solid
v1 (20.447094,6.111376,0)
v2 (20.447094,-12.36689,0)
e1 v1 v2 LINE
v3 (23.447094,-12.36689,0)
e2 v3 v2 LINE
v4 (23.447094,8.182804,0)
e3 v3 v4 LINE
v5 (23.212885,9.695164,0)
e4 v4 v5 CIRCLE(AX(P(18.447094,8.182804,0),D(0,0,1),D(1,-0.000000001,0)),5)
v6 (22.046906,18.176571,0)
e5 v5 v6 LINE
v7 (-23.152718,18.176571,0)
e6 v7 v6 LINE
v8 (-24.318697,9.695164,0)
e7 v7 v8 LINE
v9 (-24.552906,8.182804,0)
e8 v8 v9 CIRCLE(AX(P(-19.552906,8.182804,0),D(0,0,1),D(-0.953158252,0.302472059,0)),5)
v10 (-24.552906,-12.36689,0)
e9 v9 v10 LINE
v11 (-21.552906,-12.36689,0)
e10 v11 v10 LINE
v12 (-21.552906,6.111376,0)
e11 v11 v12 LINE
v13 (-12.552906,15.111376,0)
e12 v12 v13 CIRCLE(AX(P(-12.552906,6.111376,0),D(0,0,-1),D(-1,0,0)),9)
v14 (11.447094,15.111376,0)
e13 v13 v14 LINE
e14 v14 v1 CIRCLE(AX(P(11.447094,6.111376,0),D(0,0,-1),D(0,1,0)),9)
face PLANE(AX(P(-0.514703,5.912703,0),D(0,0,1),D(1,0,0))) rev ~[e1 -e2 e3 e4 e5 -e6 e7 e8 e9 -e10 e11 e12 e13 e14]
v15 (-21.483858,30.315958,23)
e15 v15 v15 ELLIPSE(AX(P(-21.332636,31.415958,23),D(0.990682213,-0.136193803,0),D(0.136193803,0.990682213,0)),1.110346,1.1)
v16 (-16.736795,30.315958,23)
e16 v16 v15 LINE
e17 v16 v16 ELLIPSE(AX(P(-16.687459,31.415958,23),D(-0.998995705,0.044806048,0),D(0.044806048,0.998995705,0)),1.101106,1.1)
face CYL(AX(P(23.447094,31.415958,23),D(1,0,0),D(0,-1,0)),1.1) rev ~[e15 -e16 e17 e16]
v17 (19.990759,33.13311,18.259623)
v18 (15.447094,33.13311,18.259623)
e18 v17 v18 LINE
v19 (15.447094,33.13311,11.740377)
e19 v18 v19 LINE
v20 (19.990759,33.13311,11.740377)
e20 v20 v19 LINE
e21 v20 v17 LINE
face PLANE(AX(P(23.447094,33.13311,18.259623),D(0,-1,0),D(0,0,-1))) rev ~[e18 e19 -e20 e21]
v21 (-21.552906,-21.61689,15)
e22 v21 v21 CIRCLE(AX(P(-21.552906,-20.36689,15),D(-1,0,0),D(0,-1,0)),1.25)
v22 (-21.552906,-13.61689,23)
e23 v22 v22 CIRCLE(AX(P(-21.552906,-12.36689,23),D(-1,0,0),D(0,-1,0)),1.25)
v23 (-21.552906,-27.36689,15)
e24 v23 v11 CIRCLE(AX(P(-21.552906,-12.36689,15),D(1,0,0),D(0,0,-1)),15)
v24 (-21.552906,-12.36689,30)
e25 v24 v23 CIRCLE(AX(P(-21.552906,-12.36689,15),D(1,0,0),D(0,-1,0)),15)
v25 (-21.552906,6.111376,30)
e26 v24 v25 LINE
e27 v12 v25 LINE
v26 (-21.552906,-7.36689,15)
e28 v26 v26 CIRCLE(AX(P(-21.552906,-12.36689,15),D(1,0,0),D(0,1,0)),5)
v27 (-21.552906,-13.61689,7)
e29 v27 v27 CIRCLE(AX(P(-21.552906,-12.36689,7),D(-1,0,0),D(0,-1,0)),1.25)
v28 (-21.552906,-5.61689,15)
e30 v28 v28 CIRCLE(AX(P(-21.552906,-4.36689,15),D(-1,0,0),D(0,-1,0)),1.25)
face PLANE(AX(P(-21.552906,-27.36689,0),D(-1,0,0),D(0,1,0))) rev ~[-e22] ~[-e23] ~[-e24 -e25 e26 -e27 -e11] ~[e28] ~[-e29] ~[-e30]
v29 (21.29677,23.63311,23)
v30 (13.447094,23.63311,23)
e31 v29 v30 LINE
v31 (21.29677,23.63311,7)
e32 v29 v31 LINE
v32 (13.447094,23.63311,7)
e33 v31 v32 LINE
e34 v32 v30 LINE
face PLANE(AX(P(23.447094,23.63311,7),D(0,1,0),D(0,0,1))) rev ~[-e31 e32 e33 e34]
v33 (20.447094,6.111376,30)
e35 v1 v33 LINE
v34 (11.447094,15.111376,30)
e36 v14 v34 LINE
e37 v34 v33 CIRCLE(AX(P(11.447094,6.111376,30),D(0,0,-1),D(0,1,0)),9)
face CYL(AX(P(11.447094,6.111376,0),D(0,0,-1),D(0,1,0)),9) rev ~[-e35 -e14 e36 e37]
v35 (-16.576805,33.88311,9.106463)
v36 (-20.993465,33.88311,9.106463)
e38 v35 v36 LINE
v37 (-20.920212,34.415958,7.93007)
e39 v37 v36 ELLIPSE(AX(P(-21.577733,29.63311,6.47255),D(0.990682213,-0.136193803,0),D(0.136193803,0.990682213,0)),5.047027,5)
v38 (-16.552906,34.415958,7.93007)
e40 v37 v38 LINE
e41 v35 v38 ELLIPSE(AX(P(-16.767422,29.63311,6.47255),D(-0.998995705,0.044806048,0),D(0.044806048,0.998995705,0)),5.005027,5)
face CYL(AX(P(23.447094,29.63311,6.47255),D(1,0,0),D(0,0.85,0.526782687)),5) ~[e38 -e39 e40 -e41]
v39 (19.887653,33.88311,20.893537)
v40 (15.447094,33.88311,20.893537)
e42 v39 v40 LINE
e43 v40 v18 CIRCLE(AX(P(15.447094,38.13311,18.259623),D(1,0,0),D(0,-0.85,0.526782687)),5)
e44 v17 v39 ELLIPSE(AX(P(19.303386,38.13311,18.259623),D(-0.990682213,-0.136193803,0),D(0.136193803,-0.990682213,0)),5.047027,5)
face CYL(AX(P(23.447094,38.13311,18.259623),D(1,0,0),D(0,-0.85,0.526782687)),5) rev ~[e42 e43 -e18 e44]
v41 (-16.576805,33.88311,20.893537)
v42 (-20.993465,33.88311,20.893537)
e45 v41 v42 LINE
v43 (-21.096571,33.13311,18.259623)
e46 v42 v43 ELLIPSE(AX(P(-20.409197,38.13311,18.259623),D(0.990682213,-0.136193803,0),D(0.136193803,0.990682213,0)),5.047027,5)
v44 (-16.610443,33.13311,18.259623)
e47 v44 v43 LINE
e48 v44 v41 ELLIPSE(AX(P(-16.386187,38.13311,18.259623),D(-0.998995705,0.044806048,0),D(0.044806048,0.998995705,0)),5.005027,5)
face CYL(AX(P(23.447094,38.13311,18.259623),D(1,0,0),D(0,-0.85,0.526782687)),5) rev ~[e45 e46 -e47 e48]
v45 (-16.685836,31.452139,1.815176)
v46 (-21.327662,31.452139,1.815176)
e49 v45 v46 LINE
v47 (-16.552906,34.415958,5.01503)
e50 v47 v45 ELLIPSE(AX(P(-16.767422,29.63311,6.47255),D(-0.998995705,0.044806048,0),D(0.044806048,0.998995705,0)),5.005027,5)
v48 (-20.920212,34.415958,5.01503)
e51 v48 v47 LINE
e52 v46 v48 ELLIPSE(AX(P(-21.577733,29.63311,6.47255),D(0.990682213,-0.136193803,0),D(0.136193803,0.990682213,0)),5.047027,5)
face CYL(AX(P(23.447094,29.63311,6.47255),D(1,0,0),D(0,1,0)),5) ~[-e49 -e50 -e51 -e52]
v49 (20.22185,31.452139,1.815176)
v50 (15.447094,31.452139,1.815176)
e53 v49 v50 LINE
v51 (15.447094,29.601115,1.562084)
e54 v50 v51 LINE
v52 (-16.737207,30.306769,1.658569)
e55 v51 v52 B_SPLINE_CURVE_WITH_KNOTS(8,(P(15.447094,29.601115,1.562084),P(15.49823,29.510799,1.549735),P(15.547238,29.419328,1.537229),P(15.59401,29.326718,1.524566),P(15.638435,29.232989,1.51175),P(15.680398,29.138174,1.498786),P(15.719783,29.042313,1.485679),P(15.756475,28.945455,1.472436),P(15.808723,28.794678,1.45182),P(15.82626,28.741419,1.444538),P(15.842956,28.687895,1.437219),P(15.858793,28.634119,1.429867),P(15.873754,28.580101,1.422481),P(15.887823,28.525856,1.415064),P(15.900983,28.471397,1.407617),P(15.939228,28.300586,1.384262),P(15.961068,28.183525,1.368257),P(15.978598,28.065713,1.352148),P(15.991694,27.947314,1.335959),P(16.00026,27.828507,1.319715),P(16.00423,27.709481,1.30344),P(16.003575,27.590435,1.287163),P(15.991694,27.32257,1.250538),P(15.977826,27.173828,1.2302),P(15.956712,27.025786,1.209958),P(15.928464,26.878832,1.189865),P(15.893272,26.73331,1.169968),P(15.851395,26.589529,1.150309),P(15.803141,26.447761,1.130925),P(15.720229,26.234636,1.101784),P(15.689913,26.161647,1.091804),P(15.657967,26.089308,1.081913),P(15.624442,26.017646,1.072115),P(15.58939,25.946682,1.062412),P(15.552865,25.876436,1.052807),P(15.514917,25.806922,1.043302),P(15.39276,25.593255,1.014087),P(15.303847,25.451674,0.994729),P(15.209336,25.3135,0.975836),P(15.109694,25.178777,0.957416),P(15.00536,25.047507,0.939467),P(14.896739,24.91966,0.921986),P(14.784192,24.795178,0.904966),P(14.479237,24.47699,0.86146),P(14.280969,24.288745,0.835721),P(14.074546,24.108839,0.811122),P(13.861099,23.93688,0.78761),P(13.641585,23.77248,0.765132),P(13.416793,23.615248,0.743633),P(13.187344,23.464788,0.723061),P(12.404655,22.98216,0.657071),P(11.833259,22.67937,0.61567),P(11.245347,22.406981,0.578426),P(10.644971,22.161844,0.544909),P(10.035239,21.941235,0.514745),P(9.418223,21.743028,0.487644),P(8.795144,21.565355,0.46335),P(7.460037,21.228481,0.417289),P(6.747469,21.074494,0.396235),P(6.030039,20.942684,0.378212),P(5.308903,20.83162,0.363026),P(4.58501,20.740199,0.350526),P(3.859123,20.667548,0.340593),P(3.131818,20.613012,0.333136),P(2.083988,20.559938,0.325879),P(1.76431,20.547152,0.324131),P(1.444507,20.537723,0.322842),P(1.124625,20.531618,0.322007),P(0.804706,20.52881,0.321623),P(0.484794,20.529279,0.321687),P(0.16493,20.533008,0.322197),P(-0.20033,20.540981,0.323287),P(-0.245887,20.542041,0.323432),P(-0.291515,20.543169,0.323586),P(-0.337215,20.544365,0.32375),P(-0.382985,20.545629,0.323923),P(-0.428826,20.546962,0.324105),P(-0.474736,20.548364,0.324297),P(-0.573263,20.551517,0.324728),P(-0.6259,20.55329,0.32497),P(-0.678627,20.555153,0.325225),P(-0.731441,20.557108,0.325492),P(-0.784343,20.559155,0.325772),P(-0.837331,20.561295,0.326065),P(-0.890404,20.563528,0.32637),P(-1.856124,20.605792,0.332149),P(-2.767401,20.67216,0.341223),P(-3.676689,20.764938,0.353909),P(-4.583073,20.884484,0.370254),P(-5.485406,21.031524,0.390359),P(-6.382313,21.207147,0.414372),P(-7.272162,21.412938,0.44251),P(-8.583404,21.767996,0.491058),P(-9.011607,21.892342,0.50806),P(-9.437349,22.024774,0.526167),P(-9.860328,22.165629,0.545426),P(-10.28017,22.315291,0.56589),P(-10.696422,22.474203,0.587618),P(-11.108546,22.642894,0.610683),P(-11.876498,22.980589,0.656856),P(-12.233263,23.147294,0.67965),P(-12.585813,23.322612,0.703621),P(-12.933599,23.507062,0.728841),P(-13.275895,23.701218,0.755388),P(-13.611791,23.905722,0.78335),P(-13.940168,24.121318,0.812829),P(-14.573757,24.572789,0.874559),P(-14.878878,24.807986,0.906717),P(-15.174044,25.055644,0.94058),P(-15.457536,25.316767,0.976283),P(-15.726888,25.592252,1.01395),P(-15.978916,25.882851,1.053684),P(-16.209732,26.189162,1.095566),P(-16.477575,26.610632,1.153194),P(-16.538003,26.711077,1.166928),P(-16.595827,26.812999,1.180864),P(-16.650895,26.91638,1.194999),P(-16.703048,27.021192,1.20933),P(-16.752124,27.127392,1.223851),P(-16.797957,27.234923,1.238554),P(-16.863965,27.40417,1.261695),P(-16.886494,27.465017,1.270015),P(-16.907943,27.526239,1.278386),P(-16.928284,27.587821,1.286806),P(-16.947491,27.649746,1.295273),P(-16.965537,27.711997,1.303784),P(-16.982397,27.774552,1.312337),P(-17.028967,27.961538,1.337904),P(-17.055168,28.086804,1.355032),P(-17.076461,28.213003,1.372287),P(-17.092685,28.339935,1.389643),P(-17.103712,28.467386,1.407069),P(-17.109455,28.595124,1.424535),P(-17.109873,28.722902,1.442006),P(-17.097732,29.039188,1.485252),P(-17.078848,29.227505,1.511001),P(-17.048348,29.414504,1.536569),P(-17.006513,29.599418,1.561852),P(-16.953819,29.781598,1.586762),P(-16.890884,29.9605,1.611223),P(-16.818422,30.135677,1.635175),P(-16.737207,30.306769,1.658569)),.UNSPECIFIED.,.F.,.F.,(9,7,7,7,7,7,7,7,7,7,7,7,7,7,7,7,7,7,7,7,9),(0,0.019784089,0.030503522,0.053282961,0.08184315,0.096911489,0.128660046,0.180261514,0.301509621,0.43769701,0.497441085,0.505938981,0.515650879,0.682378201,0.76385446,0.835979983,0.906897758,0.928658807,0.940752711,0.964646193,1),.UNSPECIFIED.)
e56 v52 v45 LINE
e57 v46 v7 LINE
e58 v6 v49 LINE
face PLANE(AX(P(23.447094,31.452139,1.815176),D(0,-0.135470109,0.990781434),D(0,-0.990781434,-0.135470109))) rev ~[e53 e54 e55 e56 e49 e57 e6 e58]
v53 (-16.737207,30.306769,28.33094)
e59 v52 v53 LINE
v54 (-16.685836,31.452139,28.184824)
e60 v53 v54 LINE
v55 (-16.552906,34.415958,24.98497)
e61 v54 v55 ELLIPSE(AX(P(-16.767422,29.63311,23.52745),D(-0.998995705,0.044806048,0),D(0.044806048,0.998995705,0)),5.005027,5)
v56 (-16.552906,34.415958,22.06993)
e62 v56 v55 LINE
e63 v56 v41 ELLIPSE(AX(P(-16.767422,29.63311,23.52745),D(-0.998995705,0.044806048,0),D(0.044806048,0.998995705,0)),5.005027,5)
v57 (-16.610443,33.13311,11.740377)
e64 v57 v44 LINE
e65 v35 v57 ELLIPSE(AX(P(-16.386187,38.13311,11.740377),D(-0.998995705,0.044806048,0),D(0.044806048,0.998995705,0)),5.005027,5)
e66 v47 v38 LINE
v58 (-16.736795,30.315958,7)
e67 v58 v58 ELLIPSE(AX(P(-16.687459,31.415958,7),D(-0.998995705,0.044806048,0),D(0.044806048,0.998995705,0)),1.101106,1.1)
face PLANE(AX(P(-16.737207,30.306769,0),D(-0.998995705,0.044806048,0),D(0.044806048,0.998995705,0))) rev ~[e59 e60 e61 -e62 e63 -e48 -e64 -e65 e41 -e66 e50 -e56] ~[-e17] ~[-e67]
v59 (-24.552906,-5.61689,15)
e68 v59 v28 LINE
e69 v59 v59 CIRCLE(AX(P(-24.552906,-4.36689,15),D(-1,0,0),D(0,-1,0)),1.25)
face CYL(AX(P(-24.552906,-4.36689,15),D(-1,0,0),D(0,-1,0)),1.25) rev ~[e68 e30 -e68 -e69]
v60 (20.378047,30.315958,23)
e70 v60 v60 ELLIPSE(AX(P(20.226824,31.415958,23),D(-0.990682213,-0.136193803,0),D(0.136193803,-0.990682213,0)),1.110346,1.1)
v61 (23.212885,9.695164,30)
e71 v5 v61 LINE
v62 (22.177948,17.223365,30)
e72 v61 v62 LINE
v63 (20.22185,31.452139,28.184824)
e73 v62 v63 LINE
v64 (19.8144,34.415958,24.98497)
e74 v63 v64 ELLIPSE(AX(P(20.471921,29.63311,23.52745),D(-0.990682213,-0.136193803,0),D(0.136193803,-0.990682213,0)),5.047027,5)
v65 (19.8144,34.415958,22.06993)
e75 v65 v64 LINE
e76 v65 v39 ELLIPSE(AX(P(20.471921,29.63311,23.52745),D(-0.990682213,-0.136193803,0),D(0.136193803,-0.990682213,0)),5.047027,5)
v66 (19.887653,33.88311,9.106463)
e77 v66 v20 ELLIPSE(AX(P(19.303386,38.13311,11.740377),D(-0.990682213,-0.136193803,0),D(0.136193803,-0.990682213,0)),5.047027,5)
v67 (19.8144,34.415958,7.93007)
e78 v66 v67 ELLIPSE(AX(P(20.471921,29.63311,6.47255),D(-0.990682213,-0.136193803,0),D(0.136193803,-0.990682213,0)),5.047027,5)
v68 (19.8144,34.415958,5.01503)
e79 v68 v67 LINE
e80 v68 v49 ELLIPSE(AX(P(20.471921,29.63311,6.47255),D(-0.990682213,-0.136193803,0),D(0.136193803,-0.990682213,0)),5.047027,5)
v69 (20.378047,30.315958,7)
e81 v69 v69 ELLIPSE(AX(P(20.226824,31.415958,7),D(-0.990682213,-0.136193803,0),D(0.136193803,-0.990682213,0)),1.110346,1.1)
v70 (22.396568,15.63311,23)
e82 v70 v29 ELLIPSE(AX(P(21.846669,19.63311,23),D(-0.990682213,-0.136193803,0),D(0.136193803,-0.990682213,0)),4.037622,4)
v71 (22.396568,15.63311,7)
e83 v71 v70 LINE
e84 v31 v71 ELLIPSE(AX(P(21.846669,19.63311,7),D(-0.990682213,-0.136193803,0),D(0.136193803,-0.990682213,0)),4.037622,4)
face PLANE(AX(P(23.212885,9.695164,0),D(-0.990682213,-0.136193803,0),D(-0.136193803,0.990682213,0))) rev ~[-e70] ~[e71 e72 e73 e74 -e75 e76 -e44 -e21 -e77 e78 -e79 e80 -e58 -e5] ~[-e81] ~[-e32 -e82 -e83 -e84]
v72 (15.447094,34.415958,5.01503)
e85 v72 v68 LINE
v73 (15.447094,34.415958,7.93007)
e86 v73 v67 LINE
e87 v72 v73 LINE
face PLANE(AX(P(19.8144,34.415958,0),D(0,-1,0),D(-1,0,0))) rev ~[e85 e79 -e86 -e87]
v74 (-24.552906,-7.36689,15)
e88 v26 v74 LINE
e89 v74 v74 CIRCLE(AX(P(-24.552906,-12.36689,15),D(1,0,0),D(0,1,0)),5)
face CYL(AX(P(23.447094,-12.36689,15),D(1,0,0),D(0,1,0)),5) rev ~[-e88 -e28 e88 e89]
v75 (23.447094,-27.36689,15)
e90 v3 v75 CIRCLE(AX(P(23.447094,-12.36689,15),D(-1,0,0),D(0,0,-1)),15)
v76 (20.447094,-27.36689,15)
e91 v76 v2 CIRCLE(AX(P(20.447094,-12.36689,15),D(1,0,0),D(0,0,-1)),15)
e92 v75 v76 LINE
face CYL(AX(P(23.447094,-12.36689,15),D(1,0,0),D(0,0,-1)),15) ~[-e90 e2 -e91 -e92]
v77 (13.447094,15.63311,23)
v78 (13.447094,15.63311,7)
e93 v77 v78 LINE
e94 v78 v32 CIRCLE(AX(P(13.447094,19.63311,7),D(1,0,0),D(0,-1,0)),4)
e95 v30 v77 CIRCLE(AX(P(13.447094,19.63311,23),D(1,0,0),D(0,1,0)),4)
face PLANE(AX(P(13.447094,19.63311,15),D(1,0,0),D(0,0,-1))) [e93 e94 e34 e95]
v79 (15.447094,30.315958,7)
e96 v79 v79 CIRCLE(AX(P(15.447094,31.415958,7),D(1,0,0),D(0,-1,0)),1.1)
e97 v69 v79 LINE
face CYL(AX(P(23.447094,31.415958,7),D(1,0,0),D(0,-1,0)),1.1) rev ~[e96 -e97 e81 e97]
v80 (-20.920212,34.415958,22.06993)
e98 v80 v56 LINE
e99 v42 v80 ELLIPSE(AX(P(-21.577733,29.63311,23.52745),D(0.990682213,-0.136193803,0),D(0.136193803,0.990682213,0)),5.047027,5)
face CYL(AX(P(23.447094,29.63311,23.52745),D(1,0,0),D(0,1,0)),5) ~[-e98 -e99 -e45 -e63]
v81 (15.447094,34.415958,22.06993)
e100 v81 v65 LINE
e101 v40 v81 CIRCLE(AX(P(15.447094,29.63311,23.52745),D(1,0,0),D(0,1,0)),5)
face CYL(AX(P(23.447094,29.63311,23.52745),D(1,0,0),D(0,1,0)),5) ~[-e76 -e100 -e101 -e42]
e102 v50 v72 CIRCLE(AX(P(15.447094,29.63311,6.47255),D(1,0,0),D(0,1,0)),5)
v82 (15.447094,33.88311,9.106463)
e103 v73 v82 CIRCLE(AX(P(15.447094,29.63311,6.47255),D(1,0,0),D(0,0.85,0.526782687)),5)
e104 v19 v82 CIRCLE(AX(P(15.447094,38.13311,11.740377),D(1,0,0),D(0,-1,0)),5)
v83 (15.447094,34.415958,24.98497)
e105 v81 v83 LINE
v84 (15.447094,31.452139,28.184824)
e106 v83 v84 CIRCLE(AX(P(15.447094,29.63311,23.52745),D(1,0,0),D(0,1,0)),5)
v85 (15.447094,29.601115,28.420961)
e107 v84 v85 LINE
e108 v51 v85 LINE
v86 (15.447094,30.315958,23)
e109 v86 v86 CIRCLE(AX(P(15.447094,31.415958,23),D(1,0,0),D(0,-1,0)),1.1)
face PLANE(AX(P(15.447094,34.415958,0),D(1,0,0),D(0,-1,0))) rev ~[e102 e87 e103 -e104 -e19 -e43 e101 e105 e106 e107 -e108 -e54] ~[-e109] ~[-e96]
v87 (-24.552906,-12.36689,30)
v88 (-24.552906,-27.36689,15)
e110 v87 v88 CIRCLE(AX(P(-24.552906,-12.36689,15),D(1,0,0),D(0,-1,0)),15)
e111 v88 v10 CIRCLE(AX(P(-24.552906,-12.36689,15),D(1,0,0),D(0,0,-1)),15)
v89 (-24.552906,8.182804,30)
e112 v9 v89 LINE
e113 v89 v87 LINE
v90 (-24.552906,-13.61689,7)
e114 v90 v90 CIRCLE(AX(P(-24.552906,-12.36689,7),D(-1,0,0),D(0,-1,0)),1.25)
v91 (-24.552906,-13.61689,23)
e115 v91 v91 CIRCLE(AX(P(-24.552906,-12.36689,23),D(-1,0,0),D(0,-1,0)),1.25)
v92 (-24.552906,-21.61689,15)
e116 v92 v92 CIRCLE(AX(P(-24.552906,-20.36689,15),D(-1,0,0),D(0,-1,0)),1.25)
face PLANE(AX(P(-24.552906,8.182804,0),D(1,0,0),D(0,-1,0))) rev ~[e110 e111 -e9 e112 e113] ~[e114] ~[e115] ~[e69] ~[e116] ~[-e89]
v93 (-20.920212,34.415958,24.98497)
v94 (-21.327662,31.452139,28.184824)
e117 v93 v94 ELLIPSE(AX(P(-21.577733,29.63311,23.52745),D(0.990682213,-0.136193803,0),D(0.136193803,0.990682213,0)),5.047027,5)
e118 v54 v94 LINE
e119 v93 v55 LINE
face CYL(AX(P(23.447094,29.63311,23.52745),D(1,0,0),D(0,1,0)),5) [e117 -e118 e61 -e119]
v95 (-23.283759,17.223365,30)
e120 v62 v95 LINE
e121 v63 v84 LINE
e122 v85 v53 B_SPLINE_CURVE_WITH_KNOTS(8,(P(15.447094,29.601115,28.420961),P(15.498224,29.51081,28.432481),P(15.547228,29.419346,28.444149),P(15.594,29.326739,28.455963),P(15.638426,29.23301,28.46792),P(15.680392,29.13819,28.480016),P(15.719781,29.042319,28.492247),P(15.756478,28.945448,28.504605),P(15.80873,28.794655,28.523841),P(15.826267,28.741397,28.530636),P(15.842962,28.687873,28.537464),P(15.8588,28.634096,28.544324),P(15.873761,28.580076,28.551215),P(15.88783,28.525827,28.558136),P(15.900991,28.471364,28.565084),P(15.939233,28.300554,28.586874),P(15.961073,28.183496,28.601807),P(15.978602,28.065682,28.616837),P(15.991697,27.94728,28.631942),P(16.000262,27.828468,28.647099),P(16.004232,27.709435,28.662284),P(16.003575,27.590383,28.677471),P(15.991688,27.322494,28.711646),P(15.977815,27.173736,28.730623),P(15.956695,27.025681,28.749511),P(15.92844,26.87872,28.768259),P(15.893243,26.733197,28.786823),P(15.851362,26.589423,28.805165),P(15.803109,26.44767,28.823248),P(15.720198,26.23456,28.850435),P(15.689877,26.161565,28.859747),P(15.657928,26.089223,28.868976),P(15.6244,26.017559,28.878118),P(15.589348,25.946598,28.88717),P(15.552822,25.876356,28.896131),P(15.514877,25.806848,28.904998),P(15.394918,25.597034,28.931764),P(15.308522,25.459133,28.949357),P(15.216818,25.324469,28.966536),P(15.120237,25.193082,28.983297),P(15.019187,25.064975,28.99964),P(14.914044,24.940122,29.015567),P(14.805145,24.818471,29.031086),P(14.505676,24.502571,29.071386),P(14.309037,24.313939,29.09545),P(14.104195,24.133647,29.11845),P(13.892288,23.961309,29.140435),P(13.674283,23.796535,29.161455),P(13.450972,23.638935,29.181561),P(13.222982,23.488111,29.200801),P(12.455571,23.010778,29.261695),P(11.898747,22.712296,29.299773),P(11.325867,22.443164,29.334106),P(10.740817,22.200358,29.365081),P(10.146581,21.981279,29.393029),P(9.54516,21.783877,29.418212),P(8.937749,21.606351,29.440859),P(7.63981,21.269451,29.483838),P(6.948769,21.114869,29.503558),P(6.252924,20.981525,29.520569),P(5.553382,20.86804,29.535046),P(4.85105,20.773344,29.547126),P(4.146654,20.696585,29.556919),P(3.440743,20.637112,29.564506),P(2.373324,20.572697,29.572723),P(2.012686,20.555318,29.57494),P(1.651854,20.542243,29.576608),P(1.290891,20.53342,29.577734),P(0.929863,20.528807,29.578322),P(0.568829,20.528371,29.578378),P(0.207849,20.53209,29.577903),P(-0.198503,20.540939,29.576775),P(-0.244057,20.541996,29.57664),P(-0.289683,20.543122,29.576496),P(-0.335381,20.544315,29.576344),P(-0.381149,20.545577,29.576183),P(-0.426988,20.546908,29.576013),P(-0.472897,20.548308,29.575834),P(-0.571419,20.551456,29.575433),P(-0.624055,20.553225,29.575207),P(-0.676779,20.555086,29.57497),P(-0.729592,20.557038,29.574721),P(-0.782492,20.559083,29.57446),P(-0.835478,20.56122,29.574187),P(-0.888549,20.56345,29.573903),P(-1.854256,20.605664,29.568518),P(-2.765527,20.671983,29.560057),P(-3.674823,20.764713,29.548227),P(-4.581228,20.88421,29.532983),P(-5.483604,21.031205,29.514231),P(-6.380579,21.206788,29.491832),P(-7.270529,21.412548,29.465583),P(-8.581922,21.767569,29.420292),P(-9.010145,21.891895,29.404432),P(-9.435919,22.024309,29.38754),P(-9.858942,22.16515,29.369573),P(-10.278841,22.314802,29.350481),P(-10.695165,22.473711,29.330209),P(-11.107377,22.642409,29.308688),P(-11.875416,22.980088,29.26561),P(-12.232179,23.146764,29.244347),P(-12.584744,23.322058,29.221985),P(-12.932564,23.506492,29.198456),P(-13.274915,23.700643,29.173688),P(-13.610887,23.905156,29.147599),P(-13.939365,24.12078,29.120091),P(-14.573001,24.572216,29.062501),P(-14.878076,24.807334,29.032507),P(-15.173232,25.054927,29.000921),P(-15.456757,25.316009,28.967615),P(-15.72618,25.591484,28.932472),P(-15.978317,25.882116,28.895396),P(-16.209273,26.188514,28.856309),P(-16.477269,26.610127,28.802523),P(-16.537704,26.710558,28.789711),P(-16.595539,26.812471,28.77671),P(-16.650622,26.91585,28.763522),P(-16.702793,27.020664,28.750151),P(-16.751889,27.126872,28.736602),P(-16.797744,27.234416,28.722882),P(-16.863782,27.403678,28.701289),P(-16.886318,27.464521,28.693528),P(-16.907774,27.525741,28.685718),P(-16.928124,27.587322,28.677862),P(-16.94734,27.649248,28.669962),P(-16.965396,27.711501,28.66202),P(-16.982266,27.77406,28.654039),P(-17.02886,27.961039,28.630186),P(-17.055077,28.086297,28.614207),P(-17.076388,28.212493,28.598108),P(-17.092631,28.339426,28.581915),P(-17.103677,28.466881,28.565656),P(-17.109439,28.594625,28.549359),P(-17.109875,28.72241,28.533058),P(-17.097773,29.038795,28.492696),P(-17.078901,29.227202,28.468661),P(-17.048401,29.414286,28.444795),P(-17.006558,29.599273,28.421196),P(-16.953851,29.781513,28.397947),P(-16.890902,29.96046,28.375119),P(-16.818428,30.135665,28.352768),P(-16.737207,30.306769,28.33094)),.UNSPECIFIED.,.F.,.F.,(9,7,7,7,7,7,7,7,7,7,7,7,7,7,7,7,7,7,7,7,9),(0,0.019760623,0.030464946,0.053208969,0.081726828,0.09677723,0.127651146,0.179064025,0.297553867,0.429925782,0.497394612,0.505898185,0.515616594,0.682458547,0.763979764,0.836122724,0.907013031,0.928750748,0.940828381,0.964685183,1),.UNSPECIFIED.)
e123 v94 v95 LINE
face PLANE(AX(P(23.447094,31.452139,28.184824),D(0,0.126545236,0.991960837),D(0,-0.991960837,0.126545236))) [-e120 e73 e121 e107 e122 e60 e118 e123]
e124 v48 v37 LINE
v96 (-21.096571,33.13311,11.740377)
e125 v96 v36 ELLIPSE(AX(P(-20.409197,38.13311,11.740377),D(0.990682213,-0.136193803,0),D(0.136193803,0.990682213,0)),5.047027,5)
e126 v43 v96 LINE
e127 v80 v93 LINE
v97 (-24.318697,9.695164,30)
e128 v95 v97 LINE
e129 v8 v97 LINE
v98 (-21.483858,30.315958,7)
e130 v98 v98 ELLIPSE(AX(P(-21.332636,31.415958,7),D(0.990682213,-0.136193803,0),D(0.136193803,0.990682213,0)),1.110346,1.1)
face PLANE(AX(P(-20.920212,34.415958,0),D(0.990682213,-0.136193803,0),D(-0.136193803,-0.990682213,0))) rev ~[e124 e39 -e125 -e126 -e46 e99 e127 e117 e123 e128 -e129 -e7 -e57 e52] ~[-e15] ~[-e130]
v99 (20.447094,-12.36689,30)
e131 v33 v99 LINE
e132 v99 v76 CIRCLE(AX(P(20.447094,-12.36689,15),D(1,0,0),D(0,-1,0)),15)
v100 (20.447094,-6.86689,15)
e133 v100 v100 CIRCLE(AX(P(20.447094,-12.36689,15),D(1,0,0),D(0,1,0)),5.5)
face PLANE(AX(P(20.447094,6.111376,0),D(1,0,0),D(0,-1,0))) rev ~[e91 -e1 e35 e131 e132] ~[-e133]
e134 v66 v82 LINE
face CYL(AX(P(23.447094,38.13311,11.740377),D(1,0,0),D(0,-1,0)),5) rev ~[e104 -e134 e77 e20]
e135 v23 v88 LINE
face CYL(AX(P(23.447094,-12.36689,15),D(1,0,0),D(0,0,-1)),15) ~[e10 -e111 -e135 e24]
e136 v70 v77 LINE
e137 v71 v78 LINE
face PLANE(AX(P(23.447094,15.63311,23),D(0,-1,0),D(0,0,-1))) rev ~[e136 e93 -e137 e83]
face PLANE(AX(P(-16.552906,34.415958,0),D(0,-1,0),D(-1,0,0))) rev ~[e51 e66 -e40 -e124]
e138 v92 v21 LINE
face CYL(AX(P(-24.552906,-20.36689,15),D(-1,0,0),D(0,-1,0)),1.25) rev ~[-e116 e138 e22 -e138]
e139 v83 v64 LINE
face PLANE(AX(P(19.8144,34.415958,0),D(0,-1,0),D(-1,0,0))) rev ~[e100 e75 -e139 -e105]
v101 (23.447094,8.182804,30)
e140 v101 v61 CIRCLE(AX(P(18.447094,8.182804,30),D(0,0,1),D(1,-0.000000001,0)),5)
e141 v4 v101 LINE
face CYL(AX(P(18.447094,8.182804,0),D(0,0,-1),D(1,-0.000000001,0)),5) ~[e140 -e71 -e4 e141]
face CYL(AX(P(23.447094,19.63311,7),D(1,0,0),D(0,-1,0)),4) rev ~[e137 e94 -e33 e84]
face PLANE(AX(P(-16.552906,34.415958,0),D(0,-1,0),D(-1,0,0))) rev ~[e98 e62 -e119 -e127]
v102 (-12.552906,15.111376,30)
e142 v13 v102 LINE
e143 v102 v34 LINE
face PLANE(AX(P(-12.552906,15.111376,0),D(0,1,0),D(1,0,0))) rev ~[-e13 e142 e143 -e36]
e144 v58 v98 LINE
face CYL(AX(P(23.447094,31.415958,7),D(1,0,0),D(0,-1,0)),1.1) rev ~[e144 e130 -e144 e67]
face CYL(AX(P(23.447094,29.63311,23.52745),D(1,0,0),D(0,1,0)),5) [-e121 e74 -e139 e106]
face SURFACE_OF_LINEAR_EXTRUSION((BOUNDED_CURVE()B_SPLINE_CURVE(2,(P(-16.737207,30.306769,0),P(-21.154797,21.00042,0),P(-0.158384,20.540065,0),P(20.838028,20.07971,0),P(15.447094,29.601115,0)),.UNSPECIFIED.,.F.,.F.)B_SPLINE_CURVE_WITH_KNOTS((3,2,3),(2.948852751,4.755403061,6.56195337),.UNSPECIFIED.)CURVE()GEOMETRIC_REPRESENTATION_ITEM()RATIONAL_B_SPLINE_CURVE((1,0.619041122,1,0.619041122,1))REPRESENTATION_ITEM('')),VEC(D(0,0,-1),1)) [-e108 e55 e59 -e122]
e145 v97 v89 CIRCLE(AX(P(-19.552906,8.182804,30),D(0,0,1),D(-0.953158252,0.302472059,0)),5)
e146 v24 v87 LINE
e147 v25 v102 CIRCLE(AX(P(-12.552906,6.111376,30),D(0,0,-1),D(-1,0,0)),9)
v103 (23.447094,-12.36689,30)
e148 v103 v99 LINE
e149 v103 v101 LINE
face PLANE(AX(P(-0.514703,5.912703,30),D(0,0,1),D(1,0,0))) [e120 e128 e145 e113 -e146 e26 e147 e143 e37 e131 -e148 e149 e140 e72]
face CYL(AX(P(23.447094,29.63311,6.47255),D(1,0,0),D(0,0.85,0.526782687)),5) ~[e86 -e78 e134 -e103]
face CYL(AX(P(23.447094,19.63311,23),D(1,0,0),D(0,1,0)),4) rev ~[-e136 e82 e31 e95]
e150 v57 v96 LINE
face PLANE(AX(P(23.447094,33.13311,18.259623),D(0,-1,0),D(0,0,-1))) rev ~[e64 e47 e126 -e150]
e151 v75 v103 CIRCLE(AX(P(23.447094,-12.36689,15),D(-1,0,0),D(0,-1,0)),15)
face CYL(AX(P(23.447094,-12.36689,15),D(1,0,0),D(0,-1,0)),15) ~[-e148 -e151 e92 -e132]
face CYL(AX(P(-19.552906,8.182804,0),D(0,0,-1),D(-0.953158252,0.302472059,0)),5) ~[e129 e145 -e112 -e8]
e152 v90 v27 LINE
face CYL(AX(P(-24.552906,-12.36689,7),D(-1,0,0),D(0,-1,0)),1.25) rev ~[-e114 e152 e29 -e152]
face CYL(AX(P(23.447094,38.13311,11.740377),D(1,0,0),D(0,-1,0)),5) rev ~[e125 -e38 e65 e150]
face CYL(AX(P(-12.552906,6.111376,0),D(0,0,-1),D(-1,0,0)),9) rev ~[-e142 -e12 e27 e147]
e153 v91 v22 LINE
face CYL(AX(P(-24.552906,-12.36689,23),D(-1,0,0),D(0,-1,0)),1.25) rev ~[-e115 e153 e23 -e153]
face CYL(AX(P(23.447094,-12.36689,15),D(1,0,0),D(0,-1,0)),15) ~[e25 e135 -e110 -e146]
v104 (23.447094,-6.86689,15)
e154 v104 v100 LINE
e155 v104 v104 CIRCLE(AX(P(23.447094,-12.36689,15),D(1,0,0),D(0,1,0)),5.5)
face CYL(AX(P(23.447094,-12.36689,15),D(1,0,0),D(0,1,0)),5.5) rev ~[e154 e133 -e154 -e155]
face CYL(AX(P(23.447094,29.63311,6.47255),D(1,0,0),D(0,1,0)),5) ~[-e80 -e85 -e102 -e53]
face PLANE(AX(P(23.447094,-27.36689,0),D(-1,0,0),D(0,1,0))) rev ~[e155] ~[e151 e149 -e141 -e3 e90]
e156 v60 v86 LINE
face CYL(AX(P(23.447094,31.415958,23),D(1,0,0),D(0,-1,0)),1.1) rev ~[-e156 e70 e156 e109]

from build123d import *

# Parameters (mm, degrees)
EXTRUDE_1_DEPTH      = 30
SKETCH_3_R           = 5
CUT_EXTRUDE_5_DEPTH  = 56
CUT_EXTRUDE_12_DEPTH = 51
SKETCH_3_4_R         = 1.1
CUT_EXTRUDE_7_DEPTH  = 56
SKETCH_6_R           = 1.25
CUT_EXTRUDE_9_DEPTH  = 22
SKETCH_5_R           = 5.5
CUT_EXTRUDE_13_DEPTH = 10


with BuildPart() as part:
    # Эскиз1 → Бобышка-Вытянуть1 (new body)
    with BuildSketch(Plane.XY):
        with BuildLine():
            ThreePointArc((23.447094189, 8.182803621), (23.388195094, 8.947997617), (23.212885448, 9.69516392))
            Line((23.212885448, 9.69516392), (19.814400159, 34.41595773))
            Line((19.814400159, 34.41595773), (15.447094189, 34.41595773))
            Line((15.447094189, 34.41595773), (15.447094189, 29.601114652))
            add(Edge.make_bspline(
                [(-16.737207413, 30.306768931), (-21.154797026, 21.000420448), (-0.15838441, 20.540065316), (20.838028206, 20.079710184), (15.447094189, 29.601114652)],
                knots=[2.948852751, 2.948852751, 2.948852751, 4.755403061, 4.755403061, 6.56195337, 6.56195337, 6.56195337], degree=2, weights=[1, 0.619041122, 1, 0.619041122, 1]))
            Line((-16.737207413, 30.306768931), (-16.552905811, 34.41595773))
            Line((-16.552905811, 34.41595773), (-20.92021178, 34.41595773))
            Line((-20.92021178, 34.41595773), (-24.31869707, 9.69516392))
            ThreePointArc((-24.31869707, 9.69516392), (-24.494006715, 8.947997617), (-24.552905811, 8.182803621))
            Line((-24.552905811, 8.182803621), (-24.552905811, -27.36689041))
            Line((-24.552905811, -27.36689041), (-21.552905811, -27.36689041))
            Line((-21.552905811, -27.36689041), (-21.552905811, 5.955043958))
            Line((-21.552905811, 5.955043958), (-21.552905811, 6.111376347))
            ThreePointArc((-21.552905811, 6.111376347), (-18.916866841, 12.475337378), (-12.552905811, 15.111376347))
            Line((-12.552905811, 15.111376347), (11.447094189, 15.111376347))
            ThreePointArc((11.447094189, 15.111376347), (17.81105522, 12.475337378), (20.447094189, 6.111376347))
            Line((20.447094189, 6.111376347), (20.447094189, 5.955043958))
            Line((20.447094189, 5.955043958), (20.447094189, -27.36689041))
            Line((20.447094189, -27.36689041), (23.447094189, -27.36689041))
            Line((23.447094189, -27.36689041), (23.447094189, 8.182803621))
        make_face()
    extrude(amount=EXTRUDE_1_DEPTH)

    # Эскиз3 → Вырез-Вытянуть5 (cut)
    with BuildSketch(Plane(origin=(23.447094189, 0, 0), x_dir=(0, 0, -1), z_dir=(1, 0, 0))):
        with Locations(Location((-15, -12.36689041, 0), (0, 0, 90))):
            Circle(SKETCH_3_R)
        with BuildLine():
            ThreePointArc((-15, -27.36689041), (-25.606601718, -22.973492128), (-30, -12.36689041))
            Line((-30, -12.36689041), (-30, -27.36689041))
            Line((-30, -27.36689041), (-15, -27.36689041))
        make_face()
        with BuildLine():
            ThreePointArc((0, -12.36689041), (-4.393398282, -22.973492128), (-15, -27.36689041))
            Line((-15, -27.36689041), (0, -27.36689041))
            Line((0, -27.36689041), (0, -12.36689041))
        make_face()
    extrude(amount=-CUT_EXTRUDE_5_DEPTH, mode=Mode.SUBTRACT)

    # Эскиз2 → Вырез-Вытянуть12 (cut)
    with BuildSketch(Plane(origin=(23.447094189, 0, 0), x_dir=(0, 0, -1), z_dir=(1, 0, 0))):
        with BuildLine():
            ThreePointArc((-23.527450038, 34.63310959), (-26.347454746, 33.761980313), (-28.184823989, 31.45213897))
            Line((-28.184823989, 31.45213897), (-30.35352757, 14.45213897))
            Line((-30.35352757, 14.45213897), (-30.35352757, 34.95213897))
            Line((-30.35352757, 34.95213897), (-23.527450038, 34.63310959))
        make_face()
        with BuildLine():
            Line((-18.259623162, 33.13310959), (-15, 33.13310959))
            Line((-15, 33.13310959), (-15, 34.63310959))
            Line((-15, 34.63310959), (-23.527450038, 34.63310959))
            ThreePointArc((-23.527450038, 34.63310959), (-22.158143644, 34.441955605), (-20.8935366, 33.88310959))
            ThreePointArc((-20.8935366, 33.88310959), (-19.628929556, 33.324263575), (-18.259623162, 33.13310959))
        make_face()
        with BuildLine():
            Line((-15, 34.63310959), (-15, 33.13310959))
            Line((-15, 33.13310959), (-11.740376838, 33.13310959))
            ThreePointArc((-11.740376838, 33.13310959), (-10.371070444, 33.324263575), (-9.1064634, 33.88310959))
            ThreePointArc((-9.1064634, 33.88310959), (-7.841856356, 34.441955605), (-6.472549962, 34.63310959))
            Line((-6.472549962, 34.63310959), (-15, 34.63310959))
        make_face()
        with BuildLine():
            Line((0.509110945, 34.95310959), (-6.472549962, 34.63310959))
            ThreePointArc((-6.472549962, 34.63310959), (-3.652545254, 33.761980313), (-1.815176011, 31.45213897))
            Line((-1.815176011, 31.45213897), (0.509110945, 14.45310959))
            Line((0.509110945, 14.45310959), (0.509110945, 34.95310959))
        make_face()
    extrude(amount=-CUT_EXTRUDE_12_DEPTH, mode=Mode.SUBTRACT)

    # Эскиз3<4> → Вырез-Вытянуть7 (cut)
    with BuildSketch(Plane(origin=(23.447094189, 0, 0), x_dir=(0, 0, -1), z_dir=(1, 0, 0))):
        with Locations(Location((-23, 31.41595774, 0), (0, 0, 270))):
            Circle(SKETCH_3_4_R)
        with Locations(Location((-7, 31.41595774, 0), (0, 0, 270))):
            Circle(SKETCH_3_4_R)
    extrude(amount=-CUT_EXTRUDE_7_DEPTH, mode=Mode.SUBTRACT)

    # Эскиз6 → Вырез-Вытянуть9 (cut)
    with BuildSketch(Plane.ZY.offset(24.552905811)):
        with Locations(Location((15, -4.36689041, 0), (0, 0, 270))):
            Circle(SKETCH_6_R)
        with Locations(Location((7, -12.36689041, 0), (0, 0, 270))):
            Circle(SKETCH_6_R)
        with Locations(Location((23, -12.36689041, 0), (0, 0, 270))):
            Circle(SKETCH_6_R)
        with Locations(Location((15, -20.36689041, 0), (0, 0, 270))):
            Circle(SKETCH_6_R)
    extrude(amount=-CUT_EXTRUDE_9_DEPTH, mode=Mode.SUBTRACT)

    # Эскиз5 → Вырез-Вытянуть13 (cut)
    with BuildSketch(Plane(origin=(23.447094189, 0, 0), x_dir=(0, 0, -1), z_dir=(1, 0, 0))):
        with Locations(Location((-15, -12.36689041, 0), (0, 0, 90))):
            Circle(SKETCH_5_R)
        with BuildLine():
            Line((-15, 23.63310959), (-23, 23.63310959))
            ThreePointArc((-23, 23.63310959), (-27, 19.63310959), (-23, 15.63310959))
            Line((-23, 15.63310959), (-7, 15.63310959))
            ThreePointArc((-7, 15.63310959), (-3, 19.63310959), (-7, 23.63310959))
            Line((-7, 23.63310959), (-15, 23.63310959))
        make_face()
    extrude(amount=-CUT_EXTRUDE_13_DEPTH, mode=Mode.SUBTRACT)


solid = part.part
